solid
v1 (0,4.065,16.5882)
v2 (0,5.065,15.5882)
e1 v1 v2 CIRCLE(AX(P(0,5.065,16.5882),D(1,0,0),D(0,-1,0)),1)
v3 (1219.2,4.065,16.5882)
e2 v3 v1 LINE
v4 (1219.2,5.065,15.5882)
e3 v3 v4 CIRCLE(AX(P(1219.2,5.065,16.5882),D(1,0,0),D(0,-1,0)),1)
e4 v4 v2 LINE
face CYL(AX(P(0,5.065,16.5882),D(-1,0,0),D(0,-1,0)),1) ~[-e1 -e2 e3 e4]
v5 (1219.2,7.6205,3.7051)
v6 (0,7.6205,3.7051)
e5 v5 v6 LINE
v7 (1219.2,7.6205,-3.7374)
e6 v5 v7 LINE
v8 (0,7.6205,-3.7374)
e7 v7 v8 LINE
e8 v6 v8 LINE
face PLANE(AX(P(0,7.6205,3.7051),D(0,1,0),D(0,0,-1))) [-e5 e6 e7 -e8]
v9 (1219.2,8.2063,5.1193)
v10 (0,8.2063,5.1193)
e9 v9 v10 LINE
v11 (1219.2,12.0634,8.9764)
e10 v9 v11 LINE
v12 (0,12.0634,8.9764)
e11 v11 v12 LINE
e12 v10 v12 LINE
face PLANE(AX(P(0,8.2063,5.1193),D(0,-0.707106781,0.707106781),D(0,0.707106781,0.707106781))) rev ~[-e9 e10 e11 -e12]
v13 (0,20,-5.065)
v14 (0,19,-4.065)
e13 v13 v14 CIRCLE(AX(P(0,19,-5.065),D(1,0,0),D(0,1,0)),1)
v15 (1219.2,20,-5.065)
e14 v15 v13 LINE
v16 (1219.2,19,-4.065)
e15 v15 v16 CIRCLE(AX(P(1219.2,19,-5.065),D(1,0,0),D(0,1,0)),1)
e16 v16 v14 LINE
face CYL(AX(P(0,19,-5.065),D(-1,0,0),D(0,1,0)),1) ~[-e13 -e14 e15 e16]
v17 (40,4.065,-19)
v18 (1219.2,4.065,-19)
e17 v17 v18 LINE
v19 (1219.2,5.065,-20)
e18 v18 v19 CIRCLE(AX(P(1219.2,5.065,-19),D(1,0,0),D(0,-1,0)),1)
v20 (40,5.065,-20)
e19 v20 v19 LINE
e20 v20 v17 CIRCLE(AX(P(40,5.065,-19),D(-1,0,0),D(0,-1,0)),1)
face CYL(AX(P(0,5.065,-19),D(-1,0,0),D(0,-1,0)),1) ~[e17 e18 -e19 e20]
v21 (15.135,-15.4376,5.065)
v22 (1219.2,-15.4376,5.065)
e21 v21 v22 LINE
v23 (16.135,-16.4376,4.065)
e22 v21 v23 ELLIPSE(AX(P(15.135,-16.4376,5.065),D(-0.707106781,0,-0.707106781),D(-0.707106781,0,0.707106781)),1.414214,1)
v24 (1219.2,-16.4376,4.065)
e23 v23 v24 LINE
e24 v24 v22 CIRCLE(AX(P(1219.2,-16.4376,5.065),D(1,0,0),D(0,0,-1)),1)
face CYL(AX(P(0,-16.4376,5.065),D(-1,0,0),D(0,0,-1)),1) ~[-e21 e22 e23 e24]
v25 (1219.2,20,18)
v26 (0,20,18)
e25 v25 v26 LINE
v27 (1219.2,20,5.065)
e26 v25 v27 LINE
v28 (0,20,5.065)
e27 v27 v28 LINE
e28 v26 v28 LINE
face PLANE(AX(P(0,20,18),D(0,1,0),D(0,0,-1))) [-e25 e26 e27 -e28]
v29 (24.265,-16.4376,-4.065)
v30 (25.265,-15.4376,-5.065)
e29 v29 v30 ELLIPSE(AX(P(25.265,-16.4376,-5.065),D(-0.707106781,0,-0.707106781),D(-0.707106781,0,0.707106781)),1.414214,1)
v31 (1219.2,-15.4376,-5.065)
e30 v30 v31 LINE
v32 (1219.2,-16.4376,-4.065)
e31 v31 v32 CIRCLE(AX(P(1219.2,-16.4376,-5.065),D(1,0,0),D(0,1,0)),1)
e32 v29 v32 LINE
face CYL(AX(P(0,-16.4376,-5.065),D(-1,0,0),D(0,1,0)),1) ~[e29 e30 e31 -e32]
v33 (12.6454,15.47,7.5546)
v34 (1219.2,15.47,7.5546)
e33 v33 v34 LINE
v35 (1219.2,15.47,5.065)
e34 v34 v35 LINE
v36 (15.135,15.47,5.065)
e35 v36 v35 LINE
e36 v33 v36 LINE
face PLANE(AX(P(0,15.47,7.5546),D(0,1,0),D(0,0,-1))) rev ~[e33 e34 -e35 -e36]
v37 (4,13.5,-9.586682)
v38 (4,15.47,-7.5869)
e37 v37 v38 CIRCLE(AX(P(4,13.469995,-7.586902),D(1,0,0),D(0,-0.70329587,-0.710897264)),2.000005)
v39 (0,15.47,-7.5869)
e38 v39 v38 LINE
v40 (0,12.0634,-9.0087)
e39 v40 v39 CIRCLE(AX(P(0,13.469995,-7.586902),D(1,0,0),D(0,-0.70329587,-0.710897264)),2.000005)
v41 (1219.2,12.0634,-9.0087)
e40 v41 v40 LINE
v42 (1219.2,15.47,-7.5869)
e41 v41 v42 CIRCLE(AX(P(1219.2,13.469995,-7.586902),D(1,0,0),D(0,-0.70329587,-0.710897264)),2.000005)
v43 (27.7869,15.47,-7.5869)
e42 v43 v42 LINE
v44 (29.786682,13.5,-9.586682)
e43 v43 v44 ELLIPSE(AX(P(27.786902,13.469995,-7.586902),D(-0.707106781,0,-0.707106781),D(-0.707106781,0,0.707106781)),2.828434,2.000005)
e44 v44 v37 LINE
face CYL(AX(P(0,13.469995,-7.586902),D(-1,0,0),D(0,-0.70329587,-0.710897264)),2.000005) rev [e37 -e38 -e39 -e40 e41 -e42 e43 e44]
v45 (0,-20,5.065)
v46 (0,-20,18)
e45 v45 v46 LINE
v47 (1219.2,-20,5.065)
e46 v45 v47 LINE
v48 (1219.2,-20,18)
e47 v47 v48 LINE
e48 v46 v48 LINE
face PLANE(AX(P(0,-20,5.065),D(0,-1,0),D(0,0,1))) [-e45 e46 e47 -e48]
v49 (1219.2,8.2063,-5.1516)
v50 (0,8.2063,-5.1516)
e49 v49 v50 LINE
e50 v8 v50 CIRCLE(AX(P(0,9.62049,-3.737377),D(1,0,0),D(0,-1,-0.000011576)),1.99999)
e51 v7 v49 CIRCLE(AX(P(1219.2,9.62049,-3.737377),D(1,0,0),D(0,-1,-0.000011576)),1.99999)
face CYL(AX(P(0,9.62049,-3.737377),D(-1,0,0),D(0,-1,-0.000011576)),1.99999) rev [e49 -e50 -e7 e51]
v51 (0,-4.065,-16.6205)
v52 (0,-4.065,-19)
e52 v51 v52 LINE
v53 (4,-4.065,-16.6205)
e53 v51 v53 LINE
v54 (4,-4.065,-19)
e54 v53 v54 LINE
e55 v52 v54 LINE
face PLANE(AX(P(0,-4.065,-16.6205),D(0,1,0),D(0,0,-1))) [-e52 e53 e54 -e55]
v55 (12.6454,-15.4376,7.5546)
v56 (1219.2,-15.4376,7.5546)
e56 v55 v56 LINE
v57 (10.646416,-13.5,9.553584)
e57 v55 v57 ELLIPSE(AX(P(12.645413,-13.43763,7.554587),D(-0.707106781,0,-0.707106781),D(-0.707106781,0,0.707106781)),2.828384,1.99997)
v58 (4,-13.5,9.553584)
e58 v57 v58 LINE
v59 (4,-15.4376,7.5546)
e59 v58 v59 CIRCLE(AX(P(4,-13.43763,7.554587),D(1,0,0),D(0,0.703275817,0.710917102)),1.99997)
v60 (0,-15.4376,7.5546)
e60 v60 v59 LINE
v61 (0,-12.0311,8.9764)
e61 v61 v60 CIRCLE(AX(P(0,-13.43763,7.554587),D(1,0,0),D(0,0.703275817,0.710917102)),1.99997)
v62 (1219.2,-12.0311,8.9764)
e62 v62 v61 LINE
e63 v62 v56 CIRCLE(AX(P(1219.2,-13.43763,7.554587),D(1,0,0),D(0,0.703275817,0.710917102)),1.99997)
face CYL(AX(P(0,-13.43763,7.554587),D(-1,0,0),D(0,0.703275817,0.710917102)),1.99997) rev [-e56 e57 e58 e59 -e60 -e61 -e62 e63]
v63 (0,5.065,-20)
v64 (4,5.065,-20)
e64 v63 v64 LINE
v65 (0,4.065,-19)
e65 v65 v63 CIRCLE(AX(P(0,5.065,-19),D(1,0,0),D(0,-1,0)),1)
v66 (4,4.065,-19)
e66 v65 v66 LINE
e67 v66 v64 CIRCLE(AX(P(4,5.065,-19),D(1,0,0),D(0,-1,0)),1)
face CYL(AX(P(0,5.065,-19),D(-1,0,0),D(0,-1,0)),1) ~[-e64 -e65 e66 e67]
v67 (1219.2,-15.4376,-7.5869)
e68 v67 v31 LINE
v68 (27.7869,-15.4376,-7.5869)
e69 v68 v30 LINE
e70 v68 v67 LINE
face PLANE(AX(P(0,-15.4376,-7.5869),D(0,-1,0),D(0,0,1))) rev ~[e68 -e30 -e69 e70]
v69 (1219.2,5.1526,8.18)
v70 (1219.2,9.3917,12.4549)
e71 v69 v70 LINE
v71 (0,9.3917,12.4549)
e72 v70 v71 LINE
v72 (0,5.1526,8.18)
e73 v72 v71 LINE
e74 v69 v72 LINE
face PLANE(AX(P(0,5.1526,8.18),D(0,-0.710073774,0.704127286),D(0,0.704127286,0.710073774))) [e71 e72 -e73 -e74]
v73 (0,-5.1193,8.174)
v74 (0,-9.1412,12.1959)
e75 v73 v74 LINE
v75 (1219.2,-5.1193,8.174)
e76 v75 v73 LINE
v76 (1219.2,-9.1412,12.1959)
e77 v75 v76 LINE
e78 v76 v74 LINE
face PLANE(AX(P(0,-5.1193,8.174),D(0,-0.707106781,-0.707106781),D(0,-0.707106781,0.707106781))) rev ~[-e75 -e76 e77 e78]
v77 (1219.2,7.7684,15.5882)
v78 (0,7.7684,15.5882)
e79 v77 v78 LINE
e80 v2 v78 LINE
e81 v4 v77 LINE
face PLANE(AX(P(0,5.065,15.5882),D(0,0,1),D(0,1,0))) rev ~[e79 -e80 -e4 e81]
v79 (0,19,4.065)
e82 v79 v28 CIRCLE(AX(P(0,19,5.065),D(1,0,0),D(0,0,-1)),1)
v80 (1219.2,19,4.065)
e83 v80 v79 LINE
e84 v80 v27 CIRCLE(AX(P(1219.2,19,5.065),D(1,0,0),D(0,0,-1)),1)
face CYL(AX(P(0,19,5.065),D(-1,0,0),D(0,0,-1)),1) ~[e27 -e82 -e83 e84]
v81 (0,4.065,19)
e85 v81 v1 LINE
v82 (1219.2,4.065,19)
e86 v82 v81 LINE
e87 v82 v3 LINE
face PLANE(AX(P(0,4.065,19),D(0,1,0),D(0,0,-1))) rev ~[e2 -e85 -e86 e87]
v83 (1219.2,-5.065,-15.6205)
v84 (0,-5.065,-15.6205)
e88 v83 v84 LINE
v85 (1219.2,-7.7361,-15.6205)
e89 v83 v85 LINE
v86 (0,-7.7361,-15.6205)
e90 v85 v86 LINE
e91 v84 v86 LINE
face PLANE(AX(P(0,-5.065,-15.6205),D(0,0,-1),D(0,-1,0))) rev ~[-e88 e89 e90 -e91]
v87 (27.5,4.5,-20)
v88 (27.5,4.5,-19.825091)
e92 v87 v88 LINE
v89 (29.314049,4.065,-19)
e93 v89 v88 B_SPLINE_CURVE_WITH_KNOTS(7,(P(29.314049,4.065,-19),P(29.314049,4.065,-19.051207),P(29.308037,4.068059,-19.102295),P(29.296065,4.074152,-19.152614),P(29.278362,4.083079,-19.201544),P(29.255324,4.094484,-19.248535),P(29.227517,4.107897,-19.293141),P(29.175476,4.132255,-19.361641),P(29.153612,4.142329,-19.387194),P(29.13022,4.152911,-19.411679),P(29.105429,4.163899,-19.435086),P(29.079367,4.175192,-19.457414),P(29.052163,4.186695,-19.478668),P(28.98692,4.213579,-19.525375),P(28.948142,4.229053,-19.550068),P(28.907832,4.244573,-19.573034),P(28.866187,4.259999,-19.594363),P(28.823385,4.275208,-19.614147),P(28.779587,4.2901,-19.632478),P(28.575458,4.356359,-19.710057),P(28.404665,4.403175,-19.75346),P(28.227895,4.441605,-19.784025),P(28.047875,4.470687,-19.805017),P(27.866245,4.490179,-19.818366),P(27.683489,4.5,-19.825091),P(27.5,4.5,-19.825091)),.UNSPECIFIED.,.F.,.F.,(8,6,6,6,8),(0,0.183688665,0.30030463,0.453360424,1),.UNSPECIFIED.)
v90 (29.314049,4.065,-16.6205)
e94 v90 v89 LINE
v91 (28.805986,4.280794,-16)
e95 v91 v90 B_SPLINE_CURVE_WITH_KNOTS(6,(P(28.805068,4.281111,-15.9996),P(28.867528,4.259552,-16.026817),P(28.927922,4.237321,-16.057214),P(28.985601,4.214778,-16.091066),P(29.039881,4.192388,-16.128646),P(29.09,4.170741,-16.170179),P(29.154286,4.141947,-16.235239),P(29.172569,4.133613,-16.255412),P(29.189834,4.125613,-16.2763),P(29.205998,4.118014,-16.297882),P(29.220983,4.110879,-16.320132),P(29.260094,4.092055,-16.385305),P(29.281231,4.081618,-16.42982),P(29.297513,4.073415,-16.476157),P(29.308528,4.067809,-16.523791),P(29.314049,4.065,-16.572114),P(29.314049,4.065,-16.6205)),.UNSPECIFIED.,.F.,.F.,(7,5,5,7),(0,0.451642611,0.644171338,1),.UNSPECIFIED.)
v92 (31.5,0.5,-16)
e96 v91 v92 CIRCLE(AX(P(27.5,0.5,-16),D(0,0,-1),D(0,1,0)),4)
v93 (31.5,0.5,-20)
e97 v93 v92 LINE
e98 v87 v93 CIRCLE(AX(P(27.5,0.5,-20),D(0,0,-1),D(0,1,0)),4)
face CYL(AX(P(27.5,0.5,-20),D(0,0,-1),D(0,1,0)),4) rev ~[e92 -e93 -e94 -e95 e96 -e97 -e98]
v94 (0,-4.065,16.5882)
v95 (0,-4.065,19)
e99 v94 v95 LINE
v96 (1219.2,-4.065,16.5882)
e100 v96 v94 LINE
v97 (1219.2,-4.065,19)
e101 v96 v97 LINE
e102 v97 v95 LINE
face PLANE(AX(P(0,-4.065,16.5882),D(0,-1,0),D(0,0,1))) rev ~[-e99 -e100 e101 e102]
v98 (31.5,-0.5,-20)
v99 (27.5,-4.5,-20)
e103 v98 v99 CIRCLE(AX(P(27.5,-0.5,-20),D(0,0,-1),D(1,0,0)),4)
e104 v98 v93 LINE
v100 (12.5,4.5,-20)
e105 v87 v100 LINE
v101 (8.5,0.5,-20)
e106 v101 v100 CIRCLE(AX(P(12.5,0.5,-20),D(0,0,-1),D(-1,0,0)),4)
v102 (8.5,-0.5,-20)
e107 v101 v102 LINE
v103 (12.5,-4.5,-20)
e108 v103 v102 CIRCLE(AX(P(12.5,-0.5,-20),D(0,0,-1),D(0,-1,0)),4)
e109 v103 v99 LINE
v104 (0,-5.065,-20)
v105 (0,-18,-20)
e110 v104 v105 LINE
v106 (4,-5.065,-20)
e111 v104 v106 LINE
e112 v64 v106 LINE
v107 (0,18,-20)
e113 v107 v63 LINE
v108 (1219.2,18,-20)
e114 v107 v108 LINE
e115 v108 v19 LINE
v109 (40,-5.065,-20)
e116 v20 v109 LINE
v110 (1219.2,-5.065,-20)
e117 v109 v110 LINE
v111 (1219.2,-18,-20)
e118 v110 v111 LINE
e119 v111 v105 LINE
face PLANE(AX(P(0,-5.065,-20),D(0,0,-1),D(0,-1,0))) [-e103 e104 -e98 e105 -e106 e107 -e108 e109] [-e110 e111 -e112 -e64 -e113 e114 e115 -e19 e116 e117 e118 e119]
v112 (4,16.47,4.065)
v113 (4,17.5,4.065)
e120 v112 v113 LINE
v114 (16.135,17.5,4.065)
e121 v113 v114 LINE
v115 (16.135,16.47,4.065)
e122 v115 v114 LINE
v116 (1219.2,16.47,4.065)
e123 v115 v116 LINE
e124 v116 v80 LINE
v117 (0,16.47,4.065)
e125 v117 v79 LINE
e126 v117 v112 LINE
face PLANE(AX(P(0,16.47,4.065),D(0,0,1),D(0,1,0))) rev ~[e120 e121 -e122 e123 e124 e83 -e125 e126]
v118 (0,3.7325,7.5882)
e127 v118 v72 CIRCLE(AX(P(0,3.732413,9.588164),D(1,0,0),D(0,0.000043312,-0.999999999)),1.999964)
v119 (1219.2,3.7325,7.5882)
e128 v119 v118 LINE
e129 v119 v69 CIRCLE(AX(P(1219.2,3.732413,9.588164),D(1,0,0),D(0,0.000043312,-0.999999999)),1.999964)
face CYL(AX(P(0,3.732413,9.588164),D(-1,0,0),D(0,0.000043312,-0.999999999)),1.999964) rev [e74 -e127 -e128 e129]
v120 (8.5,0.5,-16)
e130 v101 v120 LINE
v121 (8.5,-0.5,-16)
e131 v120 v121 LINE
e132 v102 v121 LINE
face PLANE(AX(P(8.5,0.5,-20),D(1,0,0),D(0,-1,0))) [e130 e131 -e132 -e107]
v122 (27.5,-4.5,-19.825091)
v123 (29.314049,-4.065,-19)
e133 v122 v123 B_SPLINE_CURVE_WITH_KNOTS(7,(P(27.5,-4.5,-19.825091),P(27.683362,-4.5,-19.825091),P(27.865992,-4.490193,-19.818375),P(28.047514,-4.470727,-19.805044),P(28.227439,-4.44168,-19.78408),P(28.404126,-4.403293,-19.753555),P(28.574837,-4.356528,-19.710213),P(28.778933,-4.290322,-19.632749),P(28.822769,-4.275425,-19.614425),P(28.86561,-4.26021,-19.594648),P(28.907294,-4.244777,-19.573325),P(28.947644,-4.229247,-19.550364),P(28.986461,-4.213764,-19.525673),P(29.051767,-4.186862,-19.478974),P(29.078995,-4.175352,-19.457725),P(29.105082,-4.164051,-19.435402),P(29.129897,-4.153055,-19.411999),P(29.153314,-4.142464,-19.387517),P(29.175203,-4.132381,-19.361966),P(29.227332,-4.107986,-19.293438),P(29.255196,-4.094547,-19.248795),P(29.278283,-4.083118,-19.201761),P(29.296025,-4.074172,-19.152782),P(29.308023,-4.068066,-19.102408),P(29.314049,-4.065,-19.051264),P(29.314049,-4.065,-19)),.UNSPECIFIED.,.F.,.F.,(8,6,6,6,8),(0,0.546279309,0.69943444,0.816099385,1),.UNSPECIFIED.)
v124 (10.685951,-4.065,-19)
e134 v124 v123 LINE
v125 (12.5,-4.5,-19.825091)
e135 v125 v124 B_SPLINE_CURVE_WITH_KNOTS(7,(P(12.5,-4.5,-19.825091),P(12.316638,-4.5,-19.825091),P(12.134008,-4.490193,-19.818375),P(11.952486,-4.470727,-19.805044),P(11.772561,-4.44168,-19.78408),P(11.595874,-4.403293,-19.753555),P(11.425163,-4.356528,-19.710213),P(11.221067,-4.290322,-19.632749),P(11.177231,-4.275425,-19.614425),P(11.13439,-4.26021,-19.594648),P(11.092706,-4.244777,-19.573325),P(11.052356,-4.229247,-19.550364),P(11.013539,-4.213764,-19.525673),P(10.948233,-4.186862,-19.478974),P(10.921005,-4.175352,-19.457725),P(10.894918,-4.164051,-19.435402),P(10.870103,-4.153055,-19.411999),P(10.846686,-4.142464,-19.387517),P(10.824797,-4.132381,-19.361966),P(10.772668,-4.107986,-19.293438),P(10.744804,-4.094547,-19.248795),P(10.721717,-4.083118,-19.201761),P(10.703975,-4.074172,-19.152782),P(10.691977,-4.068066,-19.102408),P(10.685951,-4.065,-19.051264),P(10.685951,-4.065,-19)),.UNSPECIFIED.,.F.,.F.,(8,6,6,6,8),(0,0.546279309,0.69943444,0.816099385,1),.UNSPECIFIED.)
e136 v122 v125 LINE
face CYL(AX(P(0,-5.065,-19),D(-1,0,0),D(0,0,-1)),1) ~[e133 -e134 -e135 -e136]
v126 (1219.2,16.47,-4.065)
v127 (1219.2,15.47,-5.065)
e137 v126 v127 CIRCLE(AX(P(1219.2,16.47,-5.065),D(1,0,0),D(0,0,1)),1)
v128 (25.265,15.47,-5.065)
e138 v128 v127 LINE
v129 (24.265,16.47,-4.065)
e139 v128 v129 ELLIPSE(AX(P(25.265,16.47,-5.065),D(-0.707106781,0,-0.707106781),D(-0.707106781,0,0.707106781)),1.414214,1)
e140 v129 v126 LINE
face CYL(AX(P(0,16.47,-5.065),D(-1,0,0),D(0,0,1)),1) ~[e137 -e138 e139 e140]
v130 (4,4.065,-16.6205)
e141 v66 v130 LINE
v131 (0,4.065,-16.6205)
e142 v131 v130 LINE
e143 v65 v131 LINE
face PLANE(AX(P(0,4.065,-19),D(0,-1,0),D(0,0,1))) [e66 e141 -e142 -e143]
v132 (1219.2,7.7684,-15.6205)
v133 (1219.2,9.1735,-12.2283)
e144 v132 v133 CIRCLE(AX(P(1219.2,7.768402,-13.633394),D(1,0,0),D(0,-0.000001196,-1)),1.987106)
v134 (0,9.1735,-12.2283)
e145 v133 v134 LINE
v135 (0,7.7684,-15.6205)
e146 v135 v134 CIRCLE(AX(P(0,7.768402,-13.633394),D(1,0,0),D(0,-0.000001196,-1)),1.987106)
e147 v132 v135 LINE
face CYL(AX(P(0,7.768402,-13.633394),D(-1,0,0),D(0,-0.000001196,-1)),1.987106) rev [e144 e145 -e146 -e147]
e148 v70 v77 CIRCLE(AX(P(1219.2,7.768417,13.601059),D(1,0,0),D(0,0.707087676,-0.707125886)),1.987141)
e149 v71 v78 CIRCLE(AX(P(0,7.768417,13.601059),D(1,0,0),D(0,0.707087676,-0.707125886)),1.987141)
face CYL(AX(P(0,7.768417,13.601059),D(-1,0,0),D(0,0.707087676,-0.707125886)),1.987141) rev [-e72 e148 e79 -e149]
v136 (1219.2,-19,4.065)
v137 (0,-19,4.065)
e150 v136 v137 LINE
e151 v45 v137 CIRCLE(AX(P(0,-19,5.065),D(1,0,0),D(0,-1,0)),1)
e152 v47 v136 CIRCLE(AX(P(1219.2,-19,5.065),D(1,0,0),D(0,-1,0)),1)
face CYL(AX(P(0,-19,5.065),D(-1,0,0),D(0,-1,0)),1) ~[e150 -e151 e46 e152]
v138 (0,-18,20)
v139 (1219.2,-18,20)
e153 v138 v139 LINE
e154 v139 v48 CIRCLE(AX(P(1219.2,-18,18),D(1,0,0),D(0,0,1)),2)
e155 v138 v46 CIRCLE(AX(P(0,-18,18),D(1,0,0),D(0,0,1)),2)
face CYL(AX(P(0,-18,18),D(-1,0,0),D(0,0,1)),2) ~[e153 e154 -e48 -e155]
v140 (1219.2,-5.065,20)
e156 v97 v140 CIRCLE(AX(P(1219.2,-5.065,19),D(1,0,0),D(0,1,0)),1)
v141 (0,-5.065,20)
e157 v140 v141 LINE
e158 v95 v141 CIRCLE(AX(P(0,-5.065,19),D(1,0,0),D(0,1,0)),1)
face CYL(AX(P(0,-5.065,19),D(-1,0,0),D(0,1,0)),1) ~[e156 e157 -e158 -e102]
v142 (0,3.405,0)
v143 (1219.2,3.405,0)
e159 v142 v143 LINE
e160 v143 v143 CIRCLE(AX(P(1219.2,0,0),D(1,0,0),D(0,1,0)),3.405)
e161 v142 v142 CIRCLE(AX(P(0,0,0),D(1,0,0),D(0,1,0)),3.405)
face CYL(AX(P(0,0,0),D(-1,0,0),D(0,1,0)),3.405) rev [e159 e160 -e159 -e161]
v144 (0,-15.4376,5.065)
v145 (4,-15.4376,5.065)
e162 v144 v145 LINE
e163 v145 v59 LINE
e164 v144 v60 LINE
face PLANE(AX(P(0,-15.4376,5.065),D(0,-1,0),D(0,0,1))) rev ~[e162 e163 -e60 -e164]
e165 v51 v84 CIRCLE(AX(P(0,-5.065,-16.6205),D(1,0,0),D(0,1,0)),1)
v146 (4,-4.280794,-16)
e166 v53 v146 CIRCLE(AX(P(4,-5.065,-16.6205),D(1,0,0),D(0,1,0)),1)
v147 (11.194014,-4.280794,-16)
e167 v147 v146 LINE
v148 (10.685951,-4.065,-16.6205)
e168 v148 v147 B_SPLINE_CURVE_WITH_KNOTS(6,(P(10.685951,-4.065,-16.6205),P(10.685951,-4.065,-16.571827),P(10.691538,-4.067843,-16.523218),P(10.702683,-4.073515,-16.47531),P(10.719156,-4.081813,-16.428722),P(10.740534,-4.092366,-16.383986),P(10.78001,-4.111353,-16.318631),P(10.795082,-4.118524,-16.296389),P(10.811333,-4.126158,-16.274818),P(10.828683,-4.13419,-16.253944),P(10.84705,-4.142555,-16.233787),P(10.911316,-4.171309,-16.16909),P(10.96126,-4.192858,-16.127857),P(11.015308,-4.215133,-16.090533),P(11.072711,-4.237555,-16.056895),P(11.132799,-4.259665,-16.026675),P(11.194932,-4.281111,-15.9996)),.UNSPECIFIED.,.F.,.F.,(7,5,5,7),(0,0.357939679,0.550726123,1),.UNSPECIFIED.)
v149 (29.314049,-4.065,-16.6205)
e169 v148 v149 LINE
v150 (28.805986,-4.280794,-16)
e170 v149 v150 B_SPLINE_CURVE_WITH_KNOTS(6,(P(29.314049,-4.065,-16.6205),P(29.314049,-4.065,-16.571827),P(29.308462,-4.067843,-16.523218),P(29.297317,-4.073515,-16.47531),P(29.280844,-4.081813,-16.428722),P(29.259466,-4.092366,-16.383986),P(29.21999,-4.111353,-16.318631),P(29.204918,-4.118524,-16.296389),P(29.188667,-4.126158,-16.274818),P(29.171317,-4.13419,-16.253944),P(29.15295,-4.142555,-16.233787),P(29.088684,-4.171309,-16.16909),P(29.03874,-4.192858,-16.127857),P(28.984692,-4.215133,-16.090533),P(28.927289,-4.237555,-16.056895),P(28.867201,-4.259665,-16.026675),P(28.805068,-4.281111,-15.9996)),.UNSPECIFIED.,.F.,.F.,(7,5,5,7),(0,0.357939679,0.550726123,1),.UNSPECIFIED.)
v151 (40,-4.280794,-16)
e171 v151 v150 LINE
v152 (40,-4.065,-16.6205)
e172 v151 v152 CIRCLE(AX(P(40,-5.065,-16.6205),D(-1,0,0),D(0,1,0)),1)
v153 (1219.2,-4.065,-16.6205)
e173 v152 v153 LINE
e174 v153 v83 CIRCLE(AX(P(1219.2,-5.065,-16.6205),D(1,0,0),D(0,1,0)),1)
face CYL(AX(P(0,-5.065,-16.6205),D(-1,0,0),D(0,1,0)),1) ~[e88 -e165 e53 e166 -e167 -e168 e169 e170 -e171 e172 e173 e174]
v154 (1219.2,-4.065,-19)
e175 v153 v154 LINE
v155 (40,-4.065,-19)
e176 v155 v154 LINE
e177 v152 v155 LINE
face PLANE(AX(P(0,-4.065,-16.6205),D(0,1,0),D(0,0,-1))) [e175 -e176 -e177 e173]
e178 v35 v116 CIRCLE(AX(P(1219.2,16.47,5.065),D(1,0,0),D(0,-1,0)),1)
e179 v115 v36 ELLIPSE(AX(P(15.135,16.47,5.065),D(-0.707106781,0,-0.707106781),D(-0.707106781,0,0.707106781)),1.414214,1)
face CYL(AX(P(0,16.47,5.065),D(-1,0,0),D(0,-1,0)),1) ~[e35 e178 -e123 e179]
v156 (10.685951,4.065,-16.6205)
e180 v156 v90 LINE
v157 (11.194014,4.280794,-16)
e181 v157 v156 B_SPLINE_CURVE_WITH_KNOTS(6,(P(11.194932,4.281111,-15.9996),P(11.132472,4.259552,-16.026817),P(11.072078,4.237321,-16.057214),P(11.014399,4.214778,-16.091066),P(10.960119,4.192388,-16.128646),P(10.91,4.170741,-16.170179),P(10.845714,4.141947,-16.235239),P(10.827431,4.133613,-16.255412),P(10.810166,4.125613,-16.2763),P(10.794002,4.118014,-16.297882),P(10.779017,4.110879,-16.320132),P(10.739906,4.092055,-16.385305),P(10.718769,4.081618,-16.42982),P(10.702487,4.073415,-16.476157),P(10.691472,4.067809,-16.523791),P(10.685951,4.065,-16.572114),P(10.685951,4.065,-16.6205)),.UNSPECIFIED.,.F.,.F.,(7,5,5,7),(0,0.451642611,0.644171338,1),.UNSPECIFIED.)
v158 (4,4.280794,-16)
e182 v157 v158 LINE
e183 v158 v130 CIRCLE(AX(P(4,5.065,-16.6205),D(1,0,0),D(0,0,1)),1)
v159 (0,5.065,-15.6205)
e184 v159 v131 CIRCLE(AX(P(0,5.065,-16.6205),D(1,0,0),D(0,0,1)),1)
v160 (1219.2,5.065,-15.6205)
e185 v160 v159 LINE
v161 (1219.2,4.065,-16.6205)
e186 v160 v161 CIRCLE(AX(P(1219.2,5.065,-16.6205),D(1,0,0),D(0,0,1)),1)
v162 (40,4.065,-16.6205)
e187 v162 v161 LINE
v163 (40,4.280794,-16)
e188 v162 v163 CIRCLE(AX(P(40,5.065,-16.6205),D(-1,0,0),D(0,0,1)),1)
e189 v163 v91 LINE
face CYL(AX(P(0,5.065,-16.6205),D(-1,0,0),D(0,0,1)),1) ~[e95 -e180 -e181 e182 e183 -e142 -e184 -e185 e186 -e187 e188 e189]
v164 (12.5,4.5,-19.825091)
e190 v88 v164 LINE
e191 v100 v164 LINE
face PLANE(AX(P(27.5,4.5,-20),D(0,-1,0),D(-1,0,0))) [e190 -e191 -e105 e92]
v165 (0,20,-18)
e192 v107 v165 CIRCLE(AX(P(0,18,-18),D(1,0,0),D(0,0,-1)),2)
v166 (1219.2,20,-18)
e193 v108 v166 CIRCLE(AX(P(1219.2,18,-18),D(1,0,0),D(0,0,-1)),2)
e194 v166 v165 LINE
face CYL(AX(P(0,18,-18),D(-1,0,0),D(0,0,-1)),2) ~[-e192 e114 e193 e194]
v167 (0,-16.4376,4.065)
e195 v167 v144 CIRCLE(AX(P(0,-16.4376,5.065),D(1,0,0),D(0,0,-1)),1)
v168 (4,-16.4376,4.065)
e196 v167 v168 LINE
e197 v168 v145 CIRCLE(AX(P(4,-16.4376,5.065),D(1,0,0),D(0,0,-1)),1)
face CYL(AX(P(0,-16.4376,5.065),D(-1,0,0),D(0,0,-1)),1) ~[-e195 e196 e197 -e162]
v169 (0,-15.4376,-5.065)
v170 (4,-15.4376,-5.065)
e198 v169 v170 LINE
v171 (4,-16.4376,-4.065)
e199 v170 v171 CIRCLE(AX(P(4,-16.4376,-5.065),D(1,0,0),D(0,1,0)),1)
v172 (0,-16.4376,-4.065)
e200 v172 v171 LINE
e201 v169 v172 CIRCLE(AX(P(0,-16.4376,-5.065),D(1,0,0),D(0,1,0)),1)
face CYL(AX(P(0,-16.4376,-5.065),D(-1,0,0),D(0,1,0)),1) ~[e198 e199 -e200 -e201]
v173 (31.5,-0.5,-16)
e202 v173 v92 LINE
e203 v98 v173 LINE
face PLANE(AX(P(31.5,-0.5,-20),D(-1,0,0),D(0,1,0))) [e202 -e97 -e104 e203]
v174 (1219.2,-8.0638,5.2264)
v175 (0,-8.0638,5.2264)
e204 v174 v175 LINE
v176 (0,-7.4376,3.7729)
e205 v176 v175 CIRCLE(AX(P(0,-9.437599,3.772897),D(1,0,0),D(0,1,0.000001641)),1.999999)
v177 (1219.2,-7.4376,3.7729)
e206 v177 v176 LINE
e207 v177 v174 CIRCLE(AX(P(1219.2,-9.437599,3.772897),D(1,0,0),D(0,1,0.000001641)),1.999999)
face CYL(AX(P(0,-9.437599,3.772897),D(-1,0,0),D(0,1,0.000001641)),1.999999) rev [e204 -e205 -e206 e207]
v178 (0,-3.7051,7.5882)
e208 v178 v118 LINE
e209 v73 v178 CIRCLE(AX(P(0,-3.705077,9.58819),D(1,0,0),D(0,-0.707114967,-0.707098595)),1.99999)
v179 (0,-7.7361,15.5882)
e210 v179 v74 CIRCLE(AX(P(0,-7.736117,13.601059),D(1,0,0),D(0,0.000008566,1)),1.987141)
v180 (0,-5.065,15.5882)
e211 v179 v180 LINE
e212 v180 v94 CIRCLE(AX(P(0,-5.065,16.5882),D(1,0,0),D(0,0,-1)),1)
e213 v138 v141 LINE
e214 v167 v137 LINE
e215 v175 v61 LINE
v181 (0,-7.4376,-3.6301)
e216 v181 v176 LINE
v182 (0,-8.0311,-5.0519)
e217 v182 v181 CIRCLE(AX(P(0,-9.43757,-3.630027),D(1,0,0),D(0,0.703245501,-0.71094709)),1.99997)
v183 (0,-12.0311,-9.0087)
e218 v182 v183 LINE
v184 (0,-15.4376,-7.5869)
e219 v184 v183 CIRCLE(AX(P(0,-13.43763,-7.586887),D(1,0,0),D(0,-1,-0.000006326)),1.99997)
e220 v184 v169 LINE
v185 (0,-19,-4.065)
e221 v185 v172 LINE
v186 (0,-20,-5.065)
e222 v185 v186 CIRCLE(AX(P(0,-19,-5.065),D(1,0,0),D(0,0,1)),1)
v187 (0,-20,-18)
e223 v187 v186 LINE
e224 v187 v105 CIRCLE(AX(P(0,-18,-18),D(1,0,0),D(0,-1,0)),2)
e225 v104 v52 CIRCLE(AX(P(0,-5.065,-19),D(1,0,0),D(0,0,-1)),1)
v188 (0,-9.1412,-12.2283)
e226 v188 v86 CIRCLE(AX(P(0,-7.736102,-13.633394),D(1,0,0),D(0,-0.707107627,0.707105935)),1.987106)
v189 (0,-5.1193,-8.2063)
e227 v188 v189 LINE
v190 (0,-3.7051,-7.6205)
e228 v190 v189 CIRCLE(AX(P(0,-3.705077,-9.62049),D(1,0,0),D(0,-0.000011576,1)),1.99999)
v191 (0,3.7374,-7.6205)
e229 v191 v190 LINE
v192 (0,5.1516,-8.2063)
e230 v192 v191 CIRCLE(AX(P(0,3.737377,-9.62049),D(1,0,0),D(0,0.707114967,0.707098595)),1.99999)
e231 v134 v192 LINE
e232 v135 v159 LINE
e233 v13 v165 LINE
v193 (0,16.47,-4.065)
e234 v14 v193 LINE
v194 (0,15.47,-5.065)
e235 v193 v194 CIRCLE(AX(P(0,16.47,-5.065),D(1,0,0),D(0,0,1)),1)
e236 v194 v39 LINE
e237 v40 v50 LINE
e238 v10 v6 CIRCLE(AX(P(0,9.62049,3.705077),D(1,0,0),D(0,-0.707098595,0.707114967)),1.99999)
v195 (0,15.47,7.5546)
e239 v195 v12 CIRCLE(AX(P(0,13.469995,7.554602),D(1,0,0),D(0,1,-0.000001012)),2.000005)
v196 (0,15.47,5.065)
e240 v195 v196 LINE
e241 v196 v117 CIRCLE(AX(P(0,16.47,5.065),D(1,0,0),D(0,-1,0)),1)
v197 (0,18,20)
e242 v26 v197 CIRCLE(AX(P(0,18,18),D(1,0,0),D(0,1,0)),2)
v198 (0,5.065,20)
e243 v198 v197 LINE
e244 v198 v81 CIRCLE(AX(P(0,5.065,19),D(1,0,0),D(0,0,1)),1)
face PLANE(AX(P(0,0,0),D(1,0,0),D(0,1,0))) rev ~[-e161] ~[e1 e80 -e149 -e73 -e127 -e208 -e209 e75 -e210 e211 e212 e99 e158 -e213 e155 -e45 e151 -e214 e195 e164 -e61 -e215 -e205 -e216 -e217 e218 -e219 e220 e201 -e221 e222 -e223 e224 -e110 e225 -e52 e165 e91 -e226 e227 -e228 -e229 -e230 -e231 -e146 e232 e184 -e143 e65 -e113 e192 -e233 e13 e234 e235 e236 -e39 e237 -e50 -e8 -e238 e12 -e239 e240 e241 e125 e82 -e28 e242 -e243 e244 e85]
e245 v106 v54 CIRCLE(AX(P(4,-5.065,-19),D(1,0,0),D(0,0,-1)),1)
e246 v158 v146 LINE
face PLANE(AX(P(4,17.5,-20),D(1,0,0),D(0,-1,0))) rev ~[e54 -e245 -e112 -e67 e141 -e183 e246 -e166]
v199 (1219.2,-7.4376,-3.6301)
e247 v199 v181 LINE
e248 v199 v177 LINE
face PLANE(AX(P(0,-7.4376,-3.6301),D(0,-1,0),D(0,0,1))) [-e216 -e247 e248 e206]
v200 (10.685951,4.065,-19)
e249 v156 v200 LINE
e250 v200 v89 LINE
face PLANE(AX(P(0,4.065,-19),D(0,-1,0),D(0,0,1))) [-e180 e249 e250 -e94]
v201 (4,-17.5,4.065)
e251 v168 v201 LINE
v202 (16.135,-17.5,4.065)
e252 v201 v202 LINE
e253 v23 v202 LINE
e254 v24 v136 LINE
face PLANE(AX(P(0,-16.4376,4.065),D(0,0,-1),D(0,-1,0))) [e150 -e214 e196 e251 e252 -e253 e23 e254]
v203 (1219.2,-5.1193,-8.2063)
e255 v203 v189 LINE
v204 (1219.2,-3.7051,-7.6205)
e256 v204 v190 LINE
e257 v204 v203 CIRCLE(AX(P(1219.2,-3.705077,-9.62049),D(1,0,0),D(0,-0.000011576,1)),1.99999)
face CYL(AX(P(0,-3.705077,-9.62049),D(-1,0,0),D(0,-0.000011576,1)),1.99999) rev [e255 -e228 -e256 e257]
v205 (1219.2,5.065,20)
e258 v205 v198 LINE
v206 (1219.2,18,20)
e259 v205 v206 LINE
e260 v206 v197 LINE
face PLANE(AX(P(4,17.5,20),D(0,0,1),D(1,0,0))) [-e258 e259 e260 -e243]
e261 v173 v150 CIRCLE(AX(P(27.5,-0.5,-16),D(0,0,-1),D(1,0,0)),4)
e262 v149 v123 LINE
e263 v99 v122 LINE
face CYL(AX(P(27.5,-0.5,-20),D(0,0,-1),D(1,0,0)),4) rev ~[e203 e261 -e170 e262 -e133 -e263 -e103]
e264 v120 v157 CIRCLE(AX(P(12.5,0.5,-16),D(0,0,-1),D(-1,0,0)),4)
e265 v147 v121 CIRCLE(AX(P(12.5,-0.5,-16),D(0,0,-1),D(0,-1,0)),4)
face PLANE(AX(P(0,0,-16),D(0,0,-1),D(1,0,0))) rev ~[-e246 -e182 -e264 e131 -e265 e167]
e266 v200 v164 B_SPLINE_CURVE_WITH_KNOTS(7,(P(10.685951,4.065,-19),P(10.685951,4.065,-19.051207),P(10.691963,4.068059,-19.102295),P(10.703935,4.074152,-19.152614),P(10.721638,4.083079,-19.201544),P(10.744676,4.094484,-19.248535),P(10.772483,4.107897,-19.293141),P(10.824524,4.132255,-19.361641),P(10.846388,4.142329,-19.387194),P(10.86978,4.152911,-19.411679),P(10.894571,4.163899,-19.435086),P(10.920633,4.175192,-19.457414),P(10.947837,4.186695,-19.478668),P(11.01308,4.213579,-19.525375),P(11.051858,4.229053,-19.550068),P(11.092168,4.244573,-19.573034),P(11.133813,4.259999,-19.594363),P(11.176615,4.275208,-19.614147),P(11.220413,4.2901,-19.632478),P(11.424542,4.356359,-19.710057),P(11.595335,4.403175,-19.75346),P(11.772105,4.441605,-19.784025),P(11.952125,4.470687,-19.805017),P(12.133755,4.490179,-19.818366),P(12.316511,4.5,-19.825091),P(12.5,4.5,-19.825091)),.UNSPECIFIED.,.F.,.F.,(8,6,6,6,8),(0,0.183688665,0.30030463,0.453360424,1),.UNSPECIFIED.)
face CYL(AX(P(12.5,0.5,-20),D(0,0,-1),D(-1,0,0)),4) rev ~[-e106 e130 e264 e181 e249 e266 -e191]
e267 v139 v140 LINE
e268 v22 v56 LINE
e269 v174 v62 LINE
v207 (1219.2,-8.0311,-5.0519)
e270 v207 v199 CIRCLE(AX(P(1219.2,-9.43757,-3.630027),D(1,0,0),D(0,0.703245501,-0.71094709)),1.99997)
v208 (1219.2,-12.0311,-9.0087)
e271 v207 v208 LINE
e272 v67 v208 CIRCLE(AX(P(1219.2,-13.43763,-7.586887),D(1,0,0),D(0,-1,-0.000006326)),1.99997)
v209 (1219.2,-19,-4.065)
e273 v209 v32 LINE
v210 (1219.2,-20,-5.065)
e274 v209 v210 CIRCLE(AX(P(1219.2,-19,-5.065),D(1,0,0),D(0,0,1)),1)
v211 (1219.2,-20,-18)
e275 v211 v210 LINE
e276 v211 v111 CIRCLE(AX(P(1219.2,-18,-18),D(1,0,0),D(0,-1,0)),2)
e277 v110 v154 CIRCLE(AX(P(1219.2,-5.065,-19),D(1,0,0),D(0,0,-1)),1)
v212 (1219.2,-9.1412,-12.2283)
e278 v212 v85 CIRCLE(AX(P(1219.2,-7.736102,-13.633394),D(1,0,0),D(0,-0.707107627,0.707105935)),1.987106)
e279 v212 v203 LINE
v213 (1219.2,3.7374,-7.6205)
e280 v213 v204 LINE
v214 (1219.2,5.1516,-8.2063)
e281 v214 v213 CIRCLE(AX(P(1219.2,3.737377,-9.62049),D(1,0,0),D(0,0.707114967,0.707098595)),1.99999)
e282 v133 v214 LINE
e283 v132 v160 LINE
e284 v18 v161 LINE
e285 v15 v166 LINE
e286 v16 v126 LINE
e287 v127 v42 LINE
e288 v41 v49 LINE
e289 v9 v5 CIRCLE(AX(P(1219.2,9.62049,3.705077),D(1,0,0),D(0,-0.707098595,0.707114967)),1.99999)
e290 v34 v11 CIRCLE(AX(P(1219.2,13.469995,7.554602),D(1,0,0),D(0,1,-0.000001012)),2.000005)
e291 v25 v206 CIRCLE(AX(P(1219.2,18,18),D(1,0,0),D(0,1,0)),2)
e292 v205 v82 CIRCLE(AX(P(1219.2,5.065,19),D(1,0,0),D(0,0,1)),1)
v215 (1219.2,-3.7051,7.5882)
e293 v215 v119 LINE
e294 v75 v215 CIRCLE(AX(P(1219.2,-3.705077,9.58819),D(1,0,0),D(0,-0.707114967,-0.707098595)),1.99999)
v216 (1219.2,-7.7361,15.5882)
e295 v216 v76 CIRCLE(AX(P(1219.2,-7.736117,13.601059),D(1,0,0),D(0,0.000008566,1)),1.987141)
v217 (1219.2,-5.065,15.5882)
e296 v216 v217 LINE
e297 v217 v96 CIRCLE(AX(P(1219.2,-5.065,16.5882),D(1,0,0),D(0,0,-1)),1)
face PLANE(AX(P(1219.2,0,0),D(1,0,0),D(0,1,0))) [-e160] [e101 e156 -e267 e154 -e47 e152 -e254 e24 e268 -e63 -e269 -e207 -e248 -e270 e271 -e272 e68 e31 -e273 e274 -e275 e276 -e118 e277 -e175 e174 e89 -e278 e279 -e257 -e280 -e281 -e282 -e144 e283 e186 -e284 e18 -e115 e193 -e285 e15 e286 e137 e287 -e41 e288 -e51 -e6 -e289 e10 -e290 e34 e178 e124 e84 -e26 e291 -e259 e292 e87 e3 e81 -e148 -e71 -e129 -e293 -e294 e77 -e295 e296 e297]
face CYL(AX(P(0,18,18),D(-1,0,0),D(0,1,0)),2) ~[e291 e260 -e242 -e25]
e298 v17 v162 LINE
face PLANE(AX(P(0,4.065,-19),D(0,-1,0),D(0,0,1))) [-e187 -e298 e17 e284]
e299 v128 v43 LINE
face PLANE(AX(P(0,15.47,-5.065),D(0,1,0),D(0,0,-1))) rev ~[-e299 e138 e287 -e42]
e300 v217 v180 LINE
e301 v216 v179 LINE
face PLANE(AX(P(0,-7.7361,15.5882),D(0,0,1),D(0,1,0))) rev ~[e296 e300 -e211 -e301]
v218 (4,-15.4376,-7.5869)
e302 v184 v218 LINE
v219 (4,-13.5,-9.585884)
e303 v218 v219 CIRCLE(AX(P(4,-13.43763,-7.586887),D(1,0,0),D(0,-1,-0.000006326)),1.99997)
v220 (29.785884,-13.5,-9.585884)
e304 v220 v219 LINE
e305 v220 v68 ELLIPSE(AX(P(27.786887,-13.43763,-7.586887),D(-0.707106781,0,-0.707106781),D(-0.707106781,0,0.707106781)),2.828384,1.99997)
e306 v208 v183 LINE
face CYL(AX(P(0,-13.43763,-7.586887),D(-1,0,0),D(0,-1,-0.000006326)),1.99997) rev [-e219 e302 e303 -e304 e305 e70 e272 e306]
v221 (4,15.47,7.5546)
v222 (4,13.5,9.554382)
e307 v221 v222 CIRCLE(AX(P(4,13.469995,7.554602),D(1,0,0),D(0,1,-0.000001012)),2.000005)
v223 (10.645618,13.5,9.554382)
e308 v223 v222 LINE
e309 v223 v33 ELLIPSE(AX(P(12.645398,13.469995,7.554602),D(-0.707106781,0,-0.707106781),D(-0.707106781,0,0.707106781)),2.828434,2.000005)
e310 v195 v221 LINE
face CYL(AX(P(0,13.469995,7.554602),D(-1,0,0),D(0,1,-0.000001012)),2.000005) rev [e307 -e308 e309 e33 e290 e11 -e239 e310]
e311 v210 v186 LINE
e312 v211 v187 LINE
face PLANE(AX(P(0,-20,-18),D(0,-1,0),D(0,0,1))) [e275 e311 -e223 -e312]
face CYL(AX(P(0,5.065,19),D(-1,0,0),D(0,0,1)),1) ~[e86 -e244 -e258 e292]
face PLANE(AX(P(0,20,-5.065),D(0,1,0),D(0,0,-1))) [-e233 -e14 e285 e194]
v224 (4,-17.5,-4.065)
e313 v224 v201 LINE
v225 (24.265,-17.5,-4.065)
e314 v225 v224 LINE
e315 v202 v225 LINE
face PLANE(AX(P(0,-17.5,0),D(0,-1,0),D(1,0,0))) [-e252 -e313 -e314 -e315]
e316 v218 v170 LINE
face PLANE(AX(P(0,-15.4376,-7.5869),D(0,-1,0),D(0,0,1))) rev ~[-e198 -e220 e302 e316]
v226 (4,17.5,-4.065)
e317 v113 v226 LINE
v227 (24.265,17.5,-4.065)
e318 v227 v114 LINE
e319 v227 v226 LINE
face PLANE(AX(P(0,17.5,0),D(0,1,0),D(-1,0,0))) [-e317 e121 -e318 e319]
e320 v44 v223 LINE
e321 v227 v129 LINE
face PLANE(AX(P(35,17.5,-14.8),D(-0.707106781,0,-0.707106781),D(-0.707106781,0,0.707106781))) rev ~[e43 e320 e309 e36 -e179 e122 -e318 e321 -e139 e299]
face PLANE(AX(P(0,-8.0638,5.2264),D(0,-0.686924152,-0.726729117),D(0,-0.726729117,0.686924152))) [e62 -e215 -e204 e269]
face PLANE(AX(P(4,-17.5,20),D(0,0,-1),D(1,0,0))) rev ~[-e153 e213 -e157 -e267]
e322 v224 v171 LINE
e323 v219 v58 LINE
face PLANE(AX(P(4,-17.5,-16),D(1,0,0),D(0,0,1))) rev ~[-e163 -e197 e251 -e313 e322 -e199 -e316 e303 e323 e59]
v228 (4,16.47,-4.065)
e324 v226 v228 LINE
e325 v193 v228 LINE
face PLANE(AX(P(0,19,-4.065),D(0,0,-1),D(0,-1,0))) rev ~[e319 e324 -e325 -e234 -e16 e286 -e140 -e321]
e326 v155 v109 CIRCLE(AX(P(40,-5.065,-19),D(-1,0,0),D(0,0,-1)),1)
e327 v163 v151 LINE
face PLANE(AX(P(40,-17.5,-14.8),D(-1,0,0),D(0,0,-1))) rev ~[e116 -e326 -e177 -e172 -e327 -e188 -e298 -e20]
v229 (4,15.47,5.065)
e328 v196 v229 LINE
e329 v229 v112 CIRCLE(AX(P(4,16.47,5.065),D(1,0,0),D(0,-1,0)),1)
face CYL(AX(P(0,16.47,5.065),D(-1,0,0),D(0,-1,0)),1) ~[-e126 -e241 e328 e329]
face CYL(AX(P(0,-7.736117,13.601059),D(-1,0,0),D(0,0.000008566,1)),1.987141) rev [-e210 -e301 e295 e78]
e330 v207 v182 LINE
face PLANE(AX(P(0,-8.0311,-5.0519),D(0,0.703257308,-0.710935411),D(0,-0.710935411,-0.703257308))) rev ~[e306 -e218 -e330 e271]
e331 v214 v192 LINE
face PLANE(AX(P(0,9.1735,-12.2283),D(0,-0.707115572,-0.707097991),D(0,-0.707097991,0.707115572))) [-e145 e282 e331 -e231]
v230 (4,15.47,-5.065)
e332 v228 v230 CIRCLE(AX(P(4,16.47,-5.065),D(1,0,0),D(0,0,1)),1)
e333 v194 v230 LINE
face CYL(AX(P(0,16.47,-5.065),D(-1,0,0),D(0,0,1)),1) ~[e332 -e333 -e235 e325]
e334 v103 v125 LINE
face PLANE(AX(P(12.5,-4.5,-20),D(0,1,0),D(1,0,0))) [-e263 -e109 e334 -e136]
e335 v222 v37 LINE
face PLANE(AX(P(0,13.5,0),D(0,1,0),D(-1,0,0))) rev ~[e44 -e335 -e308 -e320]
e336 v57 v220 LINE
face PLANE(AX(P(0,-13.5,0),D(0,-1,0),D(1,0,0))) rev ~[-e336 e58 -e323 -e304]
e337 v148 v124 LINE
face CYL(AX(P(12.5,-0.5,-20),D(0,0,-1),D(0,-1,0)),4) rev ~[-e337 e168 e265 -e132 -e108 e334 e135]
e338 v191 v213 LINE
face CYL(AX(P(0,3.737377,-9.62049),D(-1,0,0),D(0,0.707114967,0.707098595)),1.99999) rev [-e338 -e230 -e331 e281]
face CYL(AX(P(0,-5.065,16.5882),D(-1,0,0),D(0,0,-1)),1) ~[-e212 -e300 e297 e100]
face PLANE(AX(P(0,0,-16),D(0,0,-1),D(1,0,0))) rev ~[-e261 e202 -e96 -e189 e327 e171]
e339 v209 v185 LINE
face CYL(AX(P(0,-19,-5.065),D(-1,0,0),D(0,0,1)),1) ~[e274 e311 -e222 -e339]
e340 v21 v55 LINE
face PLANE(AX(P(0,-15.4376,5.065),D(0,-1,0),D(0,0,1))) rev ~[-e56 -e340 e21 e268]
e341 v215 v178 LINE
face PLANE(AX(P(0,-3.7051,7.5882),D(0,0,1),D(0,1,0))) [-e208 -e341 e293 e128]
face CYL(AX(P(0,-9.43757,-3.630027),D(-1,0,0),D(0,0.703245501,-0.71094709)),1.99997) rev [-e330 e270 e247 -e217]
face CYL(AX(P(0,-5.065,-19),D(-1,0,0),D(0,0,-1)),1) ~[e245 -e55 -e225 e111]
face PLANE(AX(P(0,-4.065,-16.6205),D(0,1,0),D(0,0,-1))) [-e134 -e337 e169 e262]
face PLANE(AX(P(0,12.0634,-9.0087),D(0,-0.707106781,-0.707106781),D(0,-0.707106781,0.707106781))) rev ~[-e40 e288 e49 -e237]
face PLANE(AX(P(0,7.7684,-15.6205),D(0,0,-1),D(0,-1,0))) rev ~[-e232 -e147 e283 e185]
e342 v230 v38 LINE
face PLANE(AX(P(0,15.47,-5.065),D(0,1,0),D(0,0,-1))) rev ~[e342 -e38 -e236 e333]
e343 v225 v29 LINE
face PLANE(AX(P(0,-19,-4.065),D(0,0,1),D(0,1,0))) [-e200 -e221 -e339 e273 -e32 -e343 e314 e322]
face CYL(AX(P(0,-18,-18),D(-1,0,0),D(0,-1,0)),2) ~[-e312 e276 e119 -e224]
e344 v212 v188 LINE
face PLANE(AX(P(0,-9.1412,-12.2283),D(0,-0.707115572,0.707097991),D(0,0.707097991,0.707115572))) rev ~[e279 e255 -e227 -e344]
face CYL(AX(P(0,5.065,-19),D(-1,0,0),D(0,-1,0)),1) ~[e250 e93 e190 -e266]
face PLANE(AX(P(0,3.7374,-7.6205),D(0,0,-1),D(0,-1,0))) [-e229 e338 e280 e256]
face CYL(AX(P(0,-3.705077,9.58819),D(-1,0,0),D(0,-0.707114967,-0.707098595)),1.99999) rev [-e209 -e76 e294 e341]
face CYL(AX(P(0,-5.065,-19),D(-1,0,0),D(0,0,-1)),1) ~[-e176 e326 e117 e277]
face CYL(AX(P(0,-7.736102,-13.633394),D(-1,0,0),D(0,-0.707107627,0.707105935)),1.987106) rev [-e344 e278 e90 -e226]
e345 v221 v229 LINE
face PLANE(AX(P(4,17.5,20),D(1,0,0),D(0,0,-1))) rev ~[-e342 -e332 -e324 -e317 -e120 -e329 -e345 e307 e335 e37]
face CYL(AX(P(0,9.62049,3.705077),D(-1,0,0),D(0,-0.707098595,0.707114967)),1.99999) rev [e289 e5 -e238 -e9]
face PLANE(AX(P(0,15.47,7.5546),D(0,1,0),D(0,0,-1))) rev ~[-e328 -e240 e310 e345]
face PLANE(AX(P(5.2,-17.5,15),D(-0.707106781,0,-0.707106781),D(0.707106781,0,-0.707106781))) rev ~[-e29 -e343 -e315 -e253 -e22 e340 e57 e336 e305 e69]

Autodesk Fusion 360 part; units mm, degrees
sketch "Sketch1" plane through (0, 0, 0) normal (1, 0, 0) x (0, 1, 0)
  line L0 (17.5, -20) -> (-17.5, -20)
  line L1 (-17.5, -20) -> (-17.5, 20)
  line L2 (-17.5, 20) -> (17.5, 20)
  line L3 (17.5, 20) -> (17.5, -20)
  line L4 (17.5, -20) -> (-17.5, 20) construction
  line L5 (-17.5, -20) -> (17.5, 20) construction
  line L6 (0.5, 11.5) -> (-0.5, 11.5)
  line L7 (-4.5, 7.5) -> (-4.5, -7.5)
  line L8 (-0.5, -11.5) -> (0.5, -11.5)
  line L9 (4.5, -7.5) -> (4.5, 7.5)
  line L10 (4.5, 11.5) -> (-4.5, -11.5) construction
  line L11 (-4.5, 11.5) -> (4.5, -11.5) construction
  arc A0 (-0.5, 11.5) -> (-4.5, 7.5) centre (-0.5, 7.5) ccw
  arc A1 (4.5, 7.5) -> (0.5, 11.5) centre (0.5, 7.5) ccw
  arc A2 (-4.5, -7.5) -> (-0.5, -11.5) centre (-0.5, -7.5) ccw
  arc A3 (0.5, -11.5) -> (4.5, -7.5) centre (0.5, -7.5) ccw
  dimension "d1" = 35
  dimension "d2" = 40
  dimension "d3" = 9
  dimension "d4" = 23
  dimension "d5" = 4
  dimension "d6" = 4
  dimension "d7" = 4
  dimension "d8" = 4
extrude "Extrude1" add sketch "Sketch1" along normal blind 4
sketch "Sketch2" plane through (0, 0, -20) normal (0, 0, -1) x (1, 0, 0)
  line L0 (0, 17.5) -> (0, -17.5)
  line L1 (0, -17.5) -> (4, -17.5)
  line L2 (4, -17.5) -> (4, 17.5)
  line L3 (4, 17.5) -> (0, 17.5)
  line L4 (4, -17.5) -> (40, -17.5)
  line L5 (40, -17.5) -> (40, 17.5)
  line L6 (40, 17.5) -> (4, 17.5)
  line L7 (4, -17.5) -> (4, 17.5)
  line L8 (12.5, 4.5) -> (27.5, 4.5)
  line L9 (31.5, 0.5) -> (31.5, -0.5)
  line L10 (27.5, -4.5) -> (12.5, -4.5)
  line L11 (8.5, -0.5) -> (8.5, 0.5)
  line L12 (8.5, 4.5) -> (31.5, -4.5) construction
  line L13 (31.5, 4.5) -> (8.5, -4.5) construction
  arc A0 (27.5, -4.5) -> (31.5, -0.5) centre (27.5, -0.5) ccw
  arc A1 (8.5, -0.5) -> (12.5, -4.5) centre (12.5, -0.5) ccw
  arc A2 (12.5, 4.5) -> (8.5, 0.5) centre (12.5, 0.5) ccw
  arc A3 (31.5, 0.5) -> (27.5, 4.5) centre (27.5, 0.5) ccw
  point P0 (20, -17.5)
  point P1 (20, 0)
  point P2 (20, 0)
  dimension "d11" = 40
  dimension "d13" = 17.5
  dimension "d14" = 20
  dimension "d15" = 23
  dimension "d16" = 9
  dimension "d17" = 4
  dimension "d18" = 4
  dimension "d19" = 4
  dimension "d20" = 4
extrude "Extrude2" add sketch "Sketch2" against normal blind 4 contours L2 L4 L5 L6 L7
sketch "Sketch3" plane through (0, 17.5, 0) normal (0, 1, 0) x (-1, 0, 0)
  line L0 (0, -20) -> (0, 20)
  line L1 (0, 20) -> (-4, 20)
  line L2 (-4, 20) -> (-4, -16)
  line L3 (-4, -16) -> (-40, -16)
  line L4 (-40, -16) -> (-40, -20)
  line L5 (-40, -20) -> (0, -20)
  line L6 (-4, 20) -> (-5.2, 20)
  line L7 (-5.2, -16) -> (-4, -16)
  line L8 (-4, -16) -> (-4, 20)
  line L9 (-40, -16) -> (-5.2, -16)
  line L10 (-5.2, -16) -> (-5.2, -14.8)
  line L11 (-35, -14.8) -> (-40, -14.8)
  line L12 (-40, -14.8) -> (-40, -16)
  line L13 (-35, -14.8) -> (-5.2, 15)
  line L14 (-35, -14.8) -> (6.8148, -14.8) construction
  line L15 (-5.2, 20) -> (-5.2, 15)
  line L16 (-5.2, -14.8) -> (-5.2, -16)
  dimension "d23" = 1.2
  dimension "d24" = 1.2
  dimension "d25" = 45
  dimension "d26" = 5
extrude "Extrude3" add sketch "Sketch3" against normal blind 4 contours L2 L3 L6 L7 L8 L9 L11 L12 L13 L15
sketch "Sketch4" plane through (0, -17.5, 0) normal (0, -1, 0) x (1, 0, 0)
  line L0 (0, 20) -> (0, -20)
  line L1 (0, -20) -> (40, -20)
  line L2 (40, -20) -> (40, -16)
  line L3 (40, -16) -> (4, -16)
  line L4 (4, -16) -> (4, 20)
  line L5 (4, 20) -> (0, 20)
  line L6 (4, 20) -> (5.2, 20)
  line L7 (5.2, 20) -> (5.2, 15)
  line L8 (5.2, 15) -> (35, -14.8)
  line L9 (35, -14.8) -> (40, -14.8)
  line L10 (40, -14.8) -> (40, -16)
  dimension "d29" = 1.2
extrude "Extrude4" add sketch "Sketch4" against normal blind 4 contours L3 L4 L6 L7 L8 L9 L10

Autodesk Fusion 360 part; units mm, degrees
sketch "Sketch1" plane through (0, 0, 0) normal (1, 0, 0) x (0, 1, 0)
  circle A0 centre (0, 0) radius 3.405
  line L0 (3.7374, -7.6205) -> (-3.7051, -7.6205)
  line L1 (-3.7051, 7.5882) -> (3.7325, 7.5882)
  line L2 (7.425, -7.6205) -> (-7.425, 7.6205) construction
  line L3 (-7.425, -7.6205) -> (2.3762, 2.4388) construction
  line L4 (20, -20) -> (-20, 20) construction
  line L5 (15.425, -15.6205) -> (-15.425, 15.6205) construction
  line L6 (-8.0311, -5.0519) -> (-12.0311, -9.0087)
  line L7 (16.9453, -20) -> (68.4291, -20) construction
  line L8 (5.1526, 8.18) -> (9.3917, 12.4549)
  line L9 (-5.1193, 8.174) -> (-9.1412, 12.1959)
  line L10 (12.0634, -9.0087) -> (8.2063, -5.1516)
  line L11 (8.2063, 5.1193) -> (12.0634, 8.9764)
  line L12 (-9.1412, -12.2283) -> (-5.1193, -8.2063)
  line L13 (9.1735, -12.2283) -> (5.1516, -8.2063)
  line L14 (-8.0638, 5.2264) -> (-12.0311, 8.9764)
  line L15 (-20, -20) -> (2.4077, 2.4077) construction
  line L16 (7.425, 7.425) -> (20, 20) construction
  line L17 (-15.425, -15.6205) -> (2.3925, 2.4228) construction
  line L18 (7.6205, 3.7051) -> (7.6205, -3.7374)
  line L19 (-7.4376, -3.6301) -> (-7.4376, 3.7729)
  line L20 (-19, -4.065) -> (-16.4376, -4.065)
  line L21 (-16.4376, 4.065) -> (-19, 4.065)
  line L22 (16.47, 4.065) -> (19, 4.065)
  line L23 (19, -4.065) -> (16.47, -4.065)
  line L24 (-20, -18) -> (-20, -5.065)
  line L25 (-20, 5.065) -> (-20, 18)
  line L26 (-15.4376, -7.5869) -> (-15.4376, -5.065)
  line L27 (-15.4376, 5.065) -> (-15.4376, 7.5546)
  line L28 (15.47, 7.5546) -> (15.47, 5.065)
  line L29 (15.47, -5.065) -> (15.47, -7.5869)
  line L30 (20, 18) -> (20, 5.065)
  line L31 (20, -5.065) -> (20, -18)
  line L32 (16.47, 4.065) -> (19, 4.065)
  line L33 (4.065, 19) -> (4.065, 16.5882)
  line L34 (-4.065, 16.5882) -> (-4.065, 19)
  line L35 (4.065, -19) -> (4.065, -16.6205)
  line L36 (-4.065, -16.6205) -> (-4.065, -19)
  line L37 (-7.7361, 15.5882) -> (-5.065, 15.5882)
  line L38 (5.065, 15.5882) -> (7.7684, 15.5882)
  line L39 (-18, 20) -> (-5.065, 20)
  line L40 (5.065, 20) -> (18, 20)
  line L41 (-16.9453, -20) -> (-5.065, -20) construction
  line L42 (5.065, -20) -> (34.3692, -20) construction
  line L43 (18, -20) -> (4.065, -20)
  line L44 (-4.065, -20) -> (-18, -20)
  line L45 (7.7684, -15.6205) -> (5.065, -15.6205)
  line L46 (-5.065, -15.6205) -> (-7.7361, -15.6205)
  arc A1 (-18, 20) -> (-20, 18) centre (-18, 18) ccw
  arc A2 (20, 18) -> (18, 20) centre (18, 18) ccw
  arc A3 (18, -20) -> (20, -18) centre (18, -18) ccw
  arc A4 (-20, -18) -> (-18, -20) centre (-18, -18) ccw
  arc A5 (-9.1412, -12.2283) -> (-7.7361, -15.6205) centre (-7.7361, -13.6334) ccw
  arc A6 (-15.4376, -7.5869) -> (-12.0311, -9.0087) centre (-13.4376, -7.5869) ccw
  arc A7 (7.7684, -15.6205) -> (9.1735, -12.2283) centre (7.7684, -13.6334) ccw
  arc A8 (12.0634, -9.0087) -> (15.47, -7.5869) centre (13.47, -7.5869) ccw
  arc A9 (-12.0311, 8.9764) -> (-15.4376, 7.5546) centre (-13.4376, 7.5546) ccw
  arc A10 (-7.7361, 15.5882) -> (-9.1412, 12.1959) centre (-7.7361, 13.6011) ccw
  arc A11 (9.1735, 12.1959) -> (7.7684, 15.5882) centre (7.7684, 13.6011) ccw
  arc A12 (15.47, 7.5546) -> (12.0634, 8.9764) centre (13.47, 7.5546) ccw
  arc A13 (16.47, -4.065) -> (15.47, -5.065) centre (16.47, -5.065) ccw
  arc A14 (20, -5.065) -> (19, -4.065) centre (19, -5.065) ccw
  arc A15 (5.065, -15.6205) -> (4.065, -16.6205) centre (5.065, -16.6205) ccw
  arc A16 (4.065, -19) -> (5.065, -20) centre (5.065, -19) ccw
  arc A17 (-4.065, -16.6205) -> (-5.065, -15.6205) centre (-5.065, -16.6205) ccw
  arc A18 (-5.065, -20) -> (-4.065, -19) centre (-5.065, -19) ccw
  arc A19 (-19, -4.065) -> (-20, -5.065) centre (-19, -5.065) ccw
  arc A20 (-15.4376, -5.065) -> (-16.4376, -4.065) centre (-16.4376, -5.065) ccw
  arc A21 (-20, 5.065) -> (-19, 4.065) centre (-19, 5.065) ccw
  arc A22 (-16.4376, 4.065) -> (-15.4376, 5.065) centre (-16.4376, 5.065) ccw
  arc A23 (-4.065, 19) -> (-5.065, 20) centre (-5.065, 19) ccw
  arc A24 (-5.065, 15.5882) -> (-4.065, 16.5882) centre (-5.065, 16.5882) ccw
  arc A25 (4.065, 16.5882) -> (5.065, 15.5882) centre (5.065, 16.5882) ccw
  arc A26 (5.065, 20) -> (4.065, 19) centre (5.065, 19) ccw
  arc A27 (15.47, 5.065) -> (16.47, 4.065) centre (16.47, 5.065) ccw
  arc A28 (19, 4.065) -> (20, 5.065) centre (19, 5.065) ccw
  arc A29 (3.7325, 7.5882) -> (5.1526, 8.18) centre (3.7325, 9.5882) ccw
  arc A30 (8.2063, 5.1193) -> (7.6205, 3.7051) centre (9.6205, 3.7051) ccw
  arc A31 (7.6205, -3.7374) -> (8.2063, -5.1516) centre (9.6205, -3.7374) ccw
  arc A32 (5.1516, -8.2063) -> (3.7374, -7.6205) centre (3.7374, -9.6205) ccw
  arc A33 (-3.7051, -7.6205) -> (-5.1193, -8.2063) centre (-3.7051, -9.6205) ccw
  arc A34 (-8.0311, -5.0519) -> (-7.4376, -3.6301) centre (-9.4376, -3.6301) ccw
  arc A35 (-7.4376, 3.7729) -> (-8.0638, 5.2264) centre (-9.4376, 3.7729) ccw
  arc A36 (-5.1193, 8.174) -> (-3.7051, 7.5882) centre (-3.7051, 9.5882) ccw
  dimension "d1" = 6.81
  dimension "d4" = 40
  dimension "d5" = 40
  dimension "d7" = 8
  dimension "d9" = 45
  dimension "d11" = 135
  dimension "d12" = 4.32
  dimension "d13" = 2.16
  dimension "d16" = 8.13
  dimension "d17" = 2
  dimension "d18" = 2
  dimension "d19" = 2
  dimension "d20" = 2
  dimension "d22" = 2
  dimension "d23" = 8
  dimension "d24" = 8
  dimension "d26" = 1
  dimension "d27" = 1
  dimension "d28" = 1
  dimension "d29" = 1
  dimension "d30" = 1
  dimension "d31" = 1
  dimension "d32" = 1
  dimension "d33" = 1
  dimension "d34" = 1
  dimension "d35" = 1
  dimension "d36" = 1
  dimension "d37" = 1
  dimension "d38" = 1
  dimension "d39" = 1
  dimension "d40" = 1
  dimension "d41" = 1
  dimension "d42" = 8.13
  dimension "d43" = 8.13
  dimension "d44" = 8.13
  dimension "d45" = 2
  dimension "d46" = 2
  dimension "d47" = 2
  dimension "d48" = 2
  dimension "d49" = 2
  dimension "d50" = 2
  dimension "d51" = 2
  dimension "d52" = 2
extrude "Extrude1" add sketch "Sketch1" along normal blind 1219.2
equation "d13 = ( 4.32 / 2 ) * 1 mm"
